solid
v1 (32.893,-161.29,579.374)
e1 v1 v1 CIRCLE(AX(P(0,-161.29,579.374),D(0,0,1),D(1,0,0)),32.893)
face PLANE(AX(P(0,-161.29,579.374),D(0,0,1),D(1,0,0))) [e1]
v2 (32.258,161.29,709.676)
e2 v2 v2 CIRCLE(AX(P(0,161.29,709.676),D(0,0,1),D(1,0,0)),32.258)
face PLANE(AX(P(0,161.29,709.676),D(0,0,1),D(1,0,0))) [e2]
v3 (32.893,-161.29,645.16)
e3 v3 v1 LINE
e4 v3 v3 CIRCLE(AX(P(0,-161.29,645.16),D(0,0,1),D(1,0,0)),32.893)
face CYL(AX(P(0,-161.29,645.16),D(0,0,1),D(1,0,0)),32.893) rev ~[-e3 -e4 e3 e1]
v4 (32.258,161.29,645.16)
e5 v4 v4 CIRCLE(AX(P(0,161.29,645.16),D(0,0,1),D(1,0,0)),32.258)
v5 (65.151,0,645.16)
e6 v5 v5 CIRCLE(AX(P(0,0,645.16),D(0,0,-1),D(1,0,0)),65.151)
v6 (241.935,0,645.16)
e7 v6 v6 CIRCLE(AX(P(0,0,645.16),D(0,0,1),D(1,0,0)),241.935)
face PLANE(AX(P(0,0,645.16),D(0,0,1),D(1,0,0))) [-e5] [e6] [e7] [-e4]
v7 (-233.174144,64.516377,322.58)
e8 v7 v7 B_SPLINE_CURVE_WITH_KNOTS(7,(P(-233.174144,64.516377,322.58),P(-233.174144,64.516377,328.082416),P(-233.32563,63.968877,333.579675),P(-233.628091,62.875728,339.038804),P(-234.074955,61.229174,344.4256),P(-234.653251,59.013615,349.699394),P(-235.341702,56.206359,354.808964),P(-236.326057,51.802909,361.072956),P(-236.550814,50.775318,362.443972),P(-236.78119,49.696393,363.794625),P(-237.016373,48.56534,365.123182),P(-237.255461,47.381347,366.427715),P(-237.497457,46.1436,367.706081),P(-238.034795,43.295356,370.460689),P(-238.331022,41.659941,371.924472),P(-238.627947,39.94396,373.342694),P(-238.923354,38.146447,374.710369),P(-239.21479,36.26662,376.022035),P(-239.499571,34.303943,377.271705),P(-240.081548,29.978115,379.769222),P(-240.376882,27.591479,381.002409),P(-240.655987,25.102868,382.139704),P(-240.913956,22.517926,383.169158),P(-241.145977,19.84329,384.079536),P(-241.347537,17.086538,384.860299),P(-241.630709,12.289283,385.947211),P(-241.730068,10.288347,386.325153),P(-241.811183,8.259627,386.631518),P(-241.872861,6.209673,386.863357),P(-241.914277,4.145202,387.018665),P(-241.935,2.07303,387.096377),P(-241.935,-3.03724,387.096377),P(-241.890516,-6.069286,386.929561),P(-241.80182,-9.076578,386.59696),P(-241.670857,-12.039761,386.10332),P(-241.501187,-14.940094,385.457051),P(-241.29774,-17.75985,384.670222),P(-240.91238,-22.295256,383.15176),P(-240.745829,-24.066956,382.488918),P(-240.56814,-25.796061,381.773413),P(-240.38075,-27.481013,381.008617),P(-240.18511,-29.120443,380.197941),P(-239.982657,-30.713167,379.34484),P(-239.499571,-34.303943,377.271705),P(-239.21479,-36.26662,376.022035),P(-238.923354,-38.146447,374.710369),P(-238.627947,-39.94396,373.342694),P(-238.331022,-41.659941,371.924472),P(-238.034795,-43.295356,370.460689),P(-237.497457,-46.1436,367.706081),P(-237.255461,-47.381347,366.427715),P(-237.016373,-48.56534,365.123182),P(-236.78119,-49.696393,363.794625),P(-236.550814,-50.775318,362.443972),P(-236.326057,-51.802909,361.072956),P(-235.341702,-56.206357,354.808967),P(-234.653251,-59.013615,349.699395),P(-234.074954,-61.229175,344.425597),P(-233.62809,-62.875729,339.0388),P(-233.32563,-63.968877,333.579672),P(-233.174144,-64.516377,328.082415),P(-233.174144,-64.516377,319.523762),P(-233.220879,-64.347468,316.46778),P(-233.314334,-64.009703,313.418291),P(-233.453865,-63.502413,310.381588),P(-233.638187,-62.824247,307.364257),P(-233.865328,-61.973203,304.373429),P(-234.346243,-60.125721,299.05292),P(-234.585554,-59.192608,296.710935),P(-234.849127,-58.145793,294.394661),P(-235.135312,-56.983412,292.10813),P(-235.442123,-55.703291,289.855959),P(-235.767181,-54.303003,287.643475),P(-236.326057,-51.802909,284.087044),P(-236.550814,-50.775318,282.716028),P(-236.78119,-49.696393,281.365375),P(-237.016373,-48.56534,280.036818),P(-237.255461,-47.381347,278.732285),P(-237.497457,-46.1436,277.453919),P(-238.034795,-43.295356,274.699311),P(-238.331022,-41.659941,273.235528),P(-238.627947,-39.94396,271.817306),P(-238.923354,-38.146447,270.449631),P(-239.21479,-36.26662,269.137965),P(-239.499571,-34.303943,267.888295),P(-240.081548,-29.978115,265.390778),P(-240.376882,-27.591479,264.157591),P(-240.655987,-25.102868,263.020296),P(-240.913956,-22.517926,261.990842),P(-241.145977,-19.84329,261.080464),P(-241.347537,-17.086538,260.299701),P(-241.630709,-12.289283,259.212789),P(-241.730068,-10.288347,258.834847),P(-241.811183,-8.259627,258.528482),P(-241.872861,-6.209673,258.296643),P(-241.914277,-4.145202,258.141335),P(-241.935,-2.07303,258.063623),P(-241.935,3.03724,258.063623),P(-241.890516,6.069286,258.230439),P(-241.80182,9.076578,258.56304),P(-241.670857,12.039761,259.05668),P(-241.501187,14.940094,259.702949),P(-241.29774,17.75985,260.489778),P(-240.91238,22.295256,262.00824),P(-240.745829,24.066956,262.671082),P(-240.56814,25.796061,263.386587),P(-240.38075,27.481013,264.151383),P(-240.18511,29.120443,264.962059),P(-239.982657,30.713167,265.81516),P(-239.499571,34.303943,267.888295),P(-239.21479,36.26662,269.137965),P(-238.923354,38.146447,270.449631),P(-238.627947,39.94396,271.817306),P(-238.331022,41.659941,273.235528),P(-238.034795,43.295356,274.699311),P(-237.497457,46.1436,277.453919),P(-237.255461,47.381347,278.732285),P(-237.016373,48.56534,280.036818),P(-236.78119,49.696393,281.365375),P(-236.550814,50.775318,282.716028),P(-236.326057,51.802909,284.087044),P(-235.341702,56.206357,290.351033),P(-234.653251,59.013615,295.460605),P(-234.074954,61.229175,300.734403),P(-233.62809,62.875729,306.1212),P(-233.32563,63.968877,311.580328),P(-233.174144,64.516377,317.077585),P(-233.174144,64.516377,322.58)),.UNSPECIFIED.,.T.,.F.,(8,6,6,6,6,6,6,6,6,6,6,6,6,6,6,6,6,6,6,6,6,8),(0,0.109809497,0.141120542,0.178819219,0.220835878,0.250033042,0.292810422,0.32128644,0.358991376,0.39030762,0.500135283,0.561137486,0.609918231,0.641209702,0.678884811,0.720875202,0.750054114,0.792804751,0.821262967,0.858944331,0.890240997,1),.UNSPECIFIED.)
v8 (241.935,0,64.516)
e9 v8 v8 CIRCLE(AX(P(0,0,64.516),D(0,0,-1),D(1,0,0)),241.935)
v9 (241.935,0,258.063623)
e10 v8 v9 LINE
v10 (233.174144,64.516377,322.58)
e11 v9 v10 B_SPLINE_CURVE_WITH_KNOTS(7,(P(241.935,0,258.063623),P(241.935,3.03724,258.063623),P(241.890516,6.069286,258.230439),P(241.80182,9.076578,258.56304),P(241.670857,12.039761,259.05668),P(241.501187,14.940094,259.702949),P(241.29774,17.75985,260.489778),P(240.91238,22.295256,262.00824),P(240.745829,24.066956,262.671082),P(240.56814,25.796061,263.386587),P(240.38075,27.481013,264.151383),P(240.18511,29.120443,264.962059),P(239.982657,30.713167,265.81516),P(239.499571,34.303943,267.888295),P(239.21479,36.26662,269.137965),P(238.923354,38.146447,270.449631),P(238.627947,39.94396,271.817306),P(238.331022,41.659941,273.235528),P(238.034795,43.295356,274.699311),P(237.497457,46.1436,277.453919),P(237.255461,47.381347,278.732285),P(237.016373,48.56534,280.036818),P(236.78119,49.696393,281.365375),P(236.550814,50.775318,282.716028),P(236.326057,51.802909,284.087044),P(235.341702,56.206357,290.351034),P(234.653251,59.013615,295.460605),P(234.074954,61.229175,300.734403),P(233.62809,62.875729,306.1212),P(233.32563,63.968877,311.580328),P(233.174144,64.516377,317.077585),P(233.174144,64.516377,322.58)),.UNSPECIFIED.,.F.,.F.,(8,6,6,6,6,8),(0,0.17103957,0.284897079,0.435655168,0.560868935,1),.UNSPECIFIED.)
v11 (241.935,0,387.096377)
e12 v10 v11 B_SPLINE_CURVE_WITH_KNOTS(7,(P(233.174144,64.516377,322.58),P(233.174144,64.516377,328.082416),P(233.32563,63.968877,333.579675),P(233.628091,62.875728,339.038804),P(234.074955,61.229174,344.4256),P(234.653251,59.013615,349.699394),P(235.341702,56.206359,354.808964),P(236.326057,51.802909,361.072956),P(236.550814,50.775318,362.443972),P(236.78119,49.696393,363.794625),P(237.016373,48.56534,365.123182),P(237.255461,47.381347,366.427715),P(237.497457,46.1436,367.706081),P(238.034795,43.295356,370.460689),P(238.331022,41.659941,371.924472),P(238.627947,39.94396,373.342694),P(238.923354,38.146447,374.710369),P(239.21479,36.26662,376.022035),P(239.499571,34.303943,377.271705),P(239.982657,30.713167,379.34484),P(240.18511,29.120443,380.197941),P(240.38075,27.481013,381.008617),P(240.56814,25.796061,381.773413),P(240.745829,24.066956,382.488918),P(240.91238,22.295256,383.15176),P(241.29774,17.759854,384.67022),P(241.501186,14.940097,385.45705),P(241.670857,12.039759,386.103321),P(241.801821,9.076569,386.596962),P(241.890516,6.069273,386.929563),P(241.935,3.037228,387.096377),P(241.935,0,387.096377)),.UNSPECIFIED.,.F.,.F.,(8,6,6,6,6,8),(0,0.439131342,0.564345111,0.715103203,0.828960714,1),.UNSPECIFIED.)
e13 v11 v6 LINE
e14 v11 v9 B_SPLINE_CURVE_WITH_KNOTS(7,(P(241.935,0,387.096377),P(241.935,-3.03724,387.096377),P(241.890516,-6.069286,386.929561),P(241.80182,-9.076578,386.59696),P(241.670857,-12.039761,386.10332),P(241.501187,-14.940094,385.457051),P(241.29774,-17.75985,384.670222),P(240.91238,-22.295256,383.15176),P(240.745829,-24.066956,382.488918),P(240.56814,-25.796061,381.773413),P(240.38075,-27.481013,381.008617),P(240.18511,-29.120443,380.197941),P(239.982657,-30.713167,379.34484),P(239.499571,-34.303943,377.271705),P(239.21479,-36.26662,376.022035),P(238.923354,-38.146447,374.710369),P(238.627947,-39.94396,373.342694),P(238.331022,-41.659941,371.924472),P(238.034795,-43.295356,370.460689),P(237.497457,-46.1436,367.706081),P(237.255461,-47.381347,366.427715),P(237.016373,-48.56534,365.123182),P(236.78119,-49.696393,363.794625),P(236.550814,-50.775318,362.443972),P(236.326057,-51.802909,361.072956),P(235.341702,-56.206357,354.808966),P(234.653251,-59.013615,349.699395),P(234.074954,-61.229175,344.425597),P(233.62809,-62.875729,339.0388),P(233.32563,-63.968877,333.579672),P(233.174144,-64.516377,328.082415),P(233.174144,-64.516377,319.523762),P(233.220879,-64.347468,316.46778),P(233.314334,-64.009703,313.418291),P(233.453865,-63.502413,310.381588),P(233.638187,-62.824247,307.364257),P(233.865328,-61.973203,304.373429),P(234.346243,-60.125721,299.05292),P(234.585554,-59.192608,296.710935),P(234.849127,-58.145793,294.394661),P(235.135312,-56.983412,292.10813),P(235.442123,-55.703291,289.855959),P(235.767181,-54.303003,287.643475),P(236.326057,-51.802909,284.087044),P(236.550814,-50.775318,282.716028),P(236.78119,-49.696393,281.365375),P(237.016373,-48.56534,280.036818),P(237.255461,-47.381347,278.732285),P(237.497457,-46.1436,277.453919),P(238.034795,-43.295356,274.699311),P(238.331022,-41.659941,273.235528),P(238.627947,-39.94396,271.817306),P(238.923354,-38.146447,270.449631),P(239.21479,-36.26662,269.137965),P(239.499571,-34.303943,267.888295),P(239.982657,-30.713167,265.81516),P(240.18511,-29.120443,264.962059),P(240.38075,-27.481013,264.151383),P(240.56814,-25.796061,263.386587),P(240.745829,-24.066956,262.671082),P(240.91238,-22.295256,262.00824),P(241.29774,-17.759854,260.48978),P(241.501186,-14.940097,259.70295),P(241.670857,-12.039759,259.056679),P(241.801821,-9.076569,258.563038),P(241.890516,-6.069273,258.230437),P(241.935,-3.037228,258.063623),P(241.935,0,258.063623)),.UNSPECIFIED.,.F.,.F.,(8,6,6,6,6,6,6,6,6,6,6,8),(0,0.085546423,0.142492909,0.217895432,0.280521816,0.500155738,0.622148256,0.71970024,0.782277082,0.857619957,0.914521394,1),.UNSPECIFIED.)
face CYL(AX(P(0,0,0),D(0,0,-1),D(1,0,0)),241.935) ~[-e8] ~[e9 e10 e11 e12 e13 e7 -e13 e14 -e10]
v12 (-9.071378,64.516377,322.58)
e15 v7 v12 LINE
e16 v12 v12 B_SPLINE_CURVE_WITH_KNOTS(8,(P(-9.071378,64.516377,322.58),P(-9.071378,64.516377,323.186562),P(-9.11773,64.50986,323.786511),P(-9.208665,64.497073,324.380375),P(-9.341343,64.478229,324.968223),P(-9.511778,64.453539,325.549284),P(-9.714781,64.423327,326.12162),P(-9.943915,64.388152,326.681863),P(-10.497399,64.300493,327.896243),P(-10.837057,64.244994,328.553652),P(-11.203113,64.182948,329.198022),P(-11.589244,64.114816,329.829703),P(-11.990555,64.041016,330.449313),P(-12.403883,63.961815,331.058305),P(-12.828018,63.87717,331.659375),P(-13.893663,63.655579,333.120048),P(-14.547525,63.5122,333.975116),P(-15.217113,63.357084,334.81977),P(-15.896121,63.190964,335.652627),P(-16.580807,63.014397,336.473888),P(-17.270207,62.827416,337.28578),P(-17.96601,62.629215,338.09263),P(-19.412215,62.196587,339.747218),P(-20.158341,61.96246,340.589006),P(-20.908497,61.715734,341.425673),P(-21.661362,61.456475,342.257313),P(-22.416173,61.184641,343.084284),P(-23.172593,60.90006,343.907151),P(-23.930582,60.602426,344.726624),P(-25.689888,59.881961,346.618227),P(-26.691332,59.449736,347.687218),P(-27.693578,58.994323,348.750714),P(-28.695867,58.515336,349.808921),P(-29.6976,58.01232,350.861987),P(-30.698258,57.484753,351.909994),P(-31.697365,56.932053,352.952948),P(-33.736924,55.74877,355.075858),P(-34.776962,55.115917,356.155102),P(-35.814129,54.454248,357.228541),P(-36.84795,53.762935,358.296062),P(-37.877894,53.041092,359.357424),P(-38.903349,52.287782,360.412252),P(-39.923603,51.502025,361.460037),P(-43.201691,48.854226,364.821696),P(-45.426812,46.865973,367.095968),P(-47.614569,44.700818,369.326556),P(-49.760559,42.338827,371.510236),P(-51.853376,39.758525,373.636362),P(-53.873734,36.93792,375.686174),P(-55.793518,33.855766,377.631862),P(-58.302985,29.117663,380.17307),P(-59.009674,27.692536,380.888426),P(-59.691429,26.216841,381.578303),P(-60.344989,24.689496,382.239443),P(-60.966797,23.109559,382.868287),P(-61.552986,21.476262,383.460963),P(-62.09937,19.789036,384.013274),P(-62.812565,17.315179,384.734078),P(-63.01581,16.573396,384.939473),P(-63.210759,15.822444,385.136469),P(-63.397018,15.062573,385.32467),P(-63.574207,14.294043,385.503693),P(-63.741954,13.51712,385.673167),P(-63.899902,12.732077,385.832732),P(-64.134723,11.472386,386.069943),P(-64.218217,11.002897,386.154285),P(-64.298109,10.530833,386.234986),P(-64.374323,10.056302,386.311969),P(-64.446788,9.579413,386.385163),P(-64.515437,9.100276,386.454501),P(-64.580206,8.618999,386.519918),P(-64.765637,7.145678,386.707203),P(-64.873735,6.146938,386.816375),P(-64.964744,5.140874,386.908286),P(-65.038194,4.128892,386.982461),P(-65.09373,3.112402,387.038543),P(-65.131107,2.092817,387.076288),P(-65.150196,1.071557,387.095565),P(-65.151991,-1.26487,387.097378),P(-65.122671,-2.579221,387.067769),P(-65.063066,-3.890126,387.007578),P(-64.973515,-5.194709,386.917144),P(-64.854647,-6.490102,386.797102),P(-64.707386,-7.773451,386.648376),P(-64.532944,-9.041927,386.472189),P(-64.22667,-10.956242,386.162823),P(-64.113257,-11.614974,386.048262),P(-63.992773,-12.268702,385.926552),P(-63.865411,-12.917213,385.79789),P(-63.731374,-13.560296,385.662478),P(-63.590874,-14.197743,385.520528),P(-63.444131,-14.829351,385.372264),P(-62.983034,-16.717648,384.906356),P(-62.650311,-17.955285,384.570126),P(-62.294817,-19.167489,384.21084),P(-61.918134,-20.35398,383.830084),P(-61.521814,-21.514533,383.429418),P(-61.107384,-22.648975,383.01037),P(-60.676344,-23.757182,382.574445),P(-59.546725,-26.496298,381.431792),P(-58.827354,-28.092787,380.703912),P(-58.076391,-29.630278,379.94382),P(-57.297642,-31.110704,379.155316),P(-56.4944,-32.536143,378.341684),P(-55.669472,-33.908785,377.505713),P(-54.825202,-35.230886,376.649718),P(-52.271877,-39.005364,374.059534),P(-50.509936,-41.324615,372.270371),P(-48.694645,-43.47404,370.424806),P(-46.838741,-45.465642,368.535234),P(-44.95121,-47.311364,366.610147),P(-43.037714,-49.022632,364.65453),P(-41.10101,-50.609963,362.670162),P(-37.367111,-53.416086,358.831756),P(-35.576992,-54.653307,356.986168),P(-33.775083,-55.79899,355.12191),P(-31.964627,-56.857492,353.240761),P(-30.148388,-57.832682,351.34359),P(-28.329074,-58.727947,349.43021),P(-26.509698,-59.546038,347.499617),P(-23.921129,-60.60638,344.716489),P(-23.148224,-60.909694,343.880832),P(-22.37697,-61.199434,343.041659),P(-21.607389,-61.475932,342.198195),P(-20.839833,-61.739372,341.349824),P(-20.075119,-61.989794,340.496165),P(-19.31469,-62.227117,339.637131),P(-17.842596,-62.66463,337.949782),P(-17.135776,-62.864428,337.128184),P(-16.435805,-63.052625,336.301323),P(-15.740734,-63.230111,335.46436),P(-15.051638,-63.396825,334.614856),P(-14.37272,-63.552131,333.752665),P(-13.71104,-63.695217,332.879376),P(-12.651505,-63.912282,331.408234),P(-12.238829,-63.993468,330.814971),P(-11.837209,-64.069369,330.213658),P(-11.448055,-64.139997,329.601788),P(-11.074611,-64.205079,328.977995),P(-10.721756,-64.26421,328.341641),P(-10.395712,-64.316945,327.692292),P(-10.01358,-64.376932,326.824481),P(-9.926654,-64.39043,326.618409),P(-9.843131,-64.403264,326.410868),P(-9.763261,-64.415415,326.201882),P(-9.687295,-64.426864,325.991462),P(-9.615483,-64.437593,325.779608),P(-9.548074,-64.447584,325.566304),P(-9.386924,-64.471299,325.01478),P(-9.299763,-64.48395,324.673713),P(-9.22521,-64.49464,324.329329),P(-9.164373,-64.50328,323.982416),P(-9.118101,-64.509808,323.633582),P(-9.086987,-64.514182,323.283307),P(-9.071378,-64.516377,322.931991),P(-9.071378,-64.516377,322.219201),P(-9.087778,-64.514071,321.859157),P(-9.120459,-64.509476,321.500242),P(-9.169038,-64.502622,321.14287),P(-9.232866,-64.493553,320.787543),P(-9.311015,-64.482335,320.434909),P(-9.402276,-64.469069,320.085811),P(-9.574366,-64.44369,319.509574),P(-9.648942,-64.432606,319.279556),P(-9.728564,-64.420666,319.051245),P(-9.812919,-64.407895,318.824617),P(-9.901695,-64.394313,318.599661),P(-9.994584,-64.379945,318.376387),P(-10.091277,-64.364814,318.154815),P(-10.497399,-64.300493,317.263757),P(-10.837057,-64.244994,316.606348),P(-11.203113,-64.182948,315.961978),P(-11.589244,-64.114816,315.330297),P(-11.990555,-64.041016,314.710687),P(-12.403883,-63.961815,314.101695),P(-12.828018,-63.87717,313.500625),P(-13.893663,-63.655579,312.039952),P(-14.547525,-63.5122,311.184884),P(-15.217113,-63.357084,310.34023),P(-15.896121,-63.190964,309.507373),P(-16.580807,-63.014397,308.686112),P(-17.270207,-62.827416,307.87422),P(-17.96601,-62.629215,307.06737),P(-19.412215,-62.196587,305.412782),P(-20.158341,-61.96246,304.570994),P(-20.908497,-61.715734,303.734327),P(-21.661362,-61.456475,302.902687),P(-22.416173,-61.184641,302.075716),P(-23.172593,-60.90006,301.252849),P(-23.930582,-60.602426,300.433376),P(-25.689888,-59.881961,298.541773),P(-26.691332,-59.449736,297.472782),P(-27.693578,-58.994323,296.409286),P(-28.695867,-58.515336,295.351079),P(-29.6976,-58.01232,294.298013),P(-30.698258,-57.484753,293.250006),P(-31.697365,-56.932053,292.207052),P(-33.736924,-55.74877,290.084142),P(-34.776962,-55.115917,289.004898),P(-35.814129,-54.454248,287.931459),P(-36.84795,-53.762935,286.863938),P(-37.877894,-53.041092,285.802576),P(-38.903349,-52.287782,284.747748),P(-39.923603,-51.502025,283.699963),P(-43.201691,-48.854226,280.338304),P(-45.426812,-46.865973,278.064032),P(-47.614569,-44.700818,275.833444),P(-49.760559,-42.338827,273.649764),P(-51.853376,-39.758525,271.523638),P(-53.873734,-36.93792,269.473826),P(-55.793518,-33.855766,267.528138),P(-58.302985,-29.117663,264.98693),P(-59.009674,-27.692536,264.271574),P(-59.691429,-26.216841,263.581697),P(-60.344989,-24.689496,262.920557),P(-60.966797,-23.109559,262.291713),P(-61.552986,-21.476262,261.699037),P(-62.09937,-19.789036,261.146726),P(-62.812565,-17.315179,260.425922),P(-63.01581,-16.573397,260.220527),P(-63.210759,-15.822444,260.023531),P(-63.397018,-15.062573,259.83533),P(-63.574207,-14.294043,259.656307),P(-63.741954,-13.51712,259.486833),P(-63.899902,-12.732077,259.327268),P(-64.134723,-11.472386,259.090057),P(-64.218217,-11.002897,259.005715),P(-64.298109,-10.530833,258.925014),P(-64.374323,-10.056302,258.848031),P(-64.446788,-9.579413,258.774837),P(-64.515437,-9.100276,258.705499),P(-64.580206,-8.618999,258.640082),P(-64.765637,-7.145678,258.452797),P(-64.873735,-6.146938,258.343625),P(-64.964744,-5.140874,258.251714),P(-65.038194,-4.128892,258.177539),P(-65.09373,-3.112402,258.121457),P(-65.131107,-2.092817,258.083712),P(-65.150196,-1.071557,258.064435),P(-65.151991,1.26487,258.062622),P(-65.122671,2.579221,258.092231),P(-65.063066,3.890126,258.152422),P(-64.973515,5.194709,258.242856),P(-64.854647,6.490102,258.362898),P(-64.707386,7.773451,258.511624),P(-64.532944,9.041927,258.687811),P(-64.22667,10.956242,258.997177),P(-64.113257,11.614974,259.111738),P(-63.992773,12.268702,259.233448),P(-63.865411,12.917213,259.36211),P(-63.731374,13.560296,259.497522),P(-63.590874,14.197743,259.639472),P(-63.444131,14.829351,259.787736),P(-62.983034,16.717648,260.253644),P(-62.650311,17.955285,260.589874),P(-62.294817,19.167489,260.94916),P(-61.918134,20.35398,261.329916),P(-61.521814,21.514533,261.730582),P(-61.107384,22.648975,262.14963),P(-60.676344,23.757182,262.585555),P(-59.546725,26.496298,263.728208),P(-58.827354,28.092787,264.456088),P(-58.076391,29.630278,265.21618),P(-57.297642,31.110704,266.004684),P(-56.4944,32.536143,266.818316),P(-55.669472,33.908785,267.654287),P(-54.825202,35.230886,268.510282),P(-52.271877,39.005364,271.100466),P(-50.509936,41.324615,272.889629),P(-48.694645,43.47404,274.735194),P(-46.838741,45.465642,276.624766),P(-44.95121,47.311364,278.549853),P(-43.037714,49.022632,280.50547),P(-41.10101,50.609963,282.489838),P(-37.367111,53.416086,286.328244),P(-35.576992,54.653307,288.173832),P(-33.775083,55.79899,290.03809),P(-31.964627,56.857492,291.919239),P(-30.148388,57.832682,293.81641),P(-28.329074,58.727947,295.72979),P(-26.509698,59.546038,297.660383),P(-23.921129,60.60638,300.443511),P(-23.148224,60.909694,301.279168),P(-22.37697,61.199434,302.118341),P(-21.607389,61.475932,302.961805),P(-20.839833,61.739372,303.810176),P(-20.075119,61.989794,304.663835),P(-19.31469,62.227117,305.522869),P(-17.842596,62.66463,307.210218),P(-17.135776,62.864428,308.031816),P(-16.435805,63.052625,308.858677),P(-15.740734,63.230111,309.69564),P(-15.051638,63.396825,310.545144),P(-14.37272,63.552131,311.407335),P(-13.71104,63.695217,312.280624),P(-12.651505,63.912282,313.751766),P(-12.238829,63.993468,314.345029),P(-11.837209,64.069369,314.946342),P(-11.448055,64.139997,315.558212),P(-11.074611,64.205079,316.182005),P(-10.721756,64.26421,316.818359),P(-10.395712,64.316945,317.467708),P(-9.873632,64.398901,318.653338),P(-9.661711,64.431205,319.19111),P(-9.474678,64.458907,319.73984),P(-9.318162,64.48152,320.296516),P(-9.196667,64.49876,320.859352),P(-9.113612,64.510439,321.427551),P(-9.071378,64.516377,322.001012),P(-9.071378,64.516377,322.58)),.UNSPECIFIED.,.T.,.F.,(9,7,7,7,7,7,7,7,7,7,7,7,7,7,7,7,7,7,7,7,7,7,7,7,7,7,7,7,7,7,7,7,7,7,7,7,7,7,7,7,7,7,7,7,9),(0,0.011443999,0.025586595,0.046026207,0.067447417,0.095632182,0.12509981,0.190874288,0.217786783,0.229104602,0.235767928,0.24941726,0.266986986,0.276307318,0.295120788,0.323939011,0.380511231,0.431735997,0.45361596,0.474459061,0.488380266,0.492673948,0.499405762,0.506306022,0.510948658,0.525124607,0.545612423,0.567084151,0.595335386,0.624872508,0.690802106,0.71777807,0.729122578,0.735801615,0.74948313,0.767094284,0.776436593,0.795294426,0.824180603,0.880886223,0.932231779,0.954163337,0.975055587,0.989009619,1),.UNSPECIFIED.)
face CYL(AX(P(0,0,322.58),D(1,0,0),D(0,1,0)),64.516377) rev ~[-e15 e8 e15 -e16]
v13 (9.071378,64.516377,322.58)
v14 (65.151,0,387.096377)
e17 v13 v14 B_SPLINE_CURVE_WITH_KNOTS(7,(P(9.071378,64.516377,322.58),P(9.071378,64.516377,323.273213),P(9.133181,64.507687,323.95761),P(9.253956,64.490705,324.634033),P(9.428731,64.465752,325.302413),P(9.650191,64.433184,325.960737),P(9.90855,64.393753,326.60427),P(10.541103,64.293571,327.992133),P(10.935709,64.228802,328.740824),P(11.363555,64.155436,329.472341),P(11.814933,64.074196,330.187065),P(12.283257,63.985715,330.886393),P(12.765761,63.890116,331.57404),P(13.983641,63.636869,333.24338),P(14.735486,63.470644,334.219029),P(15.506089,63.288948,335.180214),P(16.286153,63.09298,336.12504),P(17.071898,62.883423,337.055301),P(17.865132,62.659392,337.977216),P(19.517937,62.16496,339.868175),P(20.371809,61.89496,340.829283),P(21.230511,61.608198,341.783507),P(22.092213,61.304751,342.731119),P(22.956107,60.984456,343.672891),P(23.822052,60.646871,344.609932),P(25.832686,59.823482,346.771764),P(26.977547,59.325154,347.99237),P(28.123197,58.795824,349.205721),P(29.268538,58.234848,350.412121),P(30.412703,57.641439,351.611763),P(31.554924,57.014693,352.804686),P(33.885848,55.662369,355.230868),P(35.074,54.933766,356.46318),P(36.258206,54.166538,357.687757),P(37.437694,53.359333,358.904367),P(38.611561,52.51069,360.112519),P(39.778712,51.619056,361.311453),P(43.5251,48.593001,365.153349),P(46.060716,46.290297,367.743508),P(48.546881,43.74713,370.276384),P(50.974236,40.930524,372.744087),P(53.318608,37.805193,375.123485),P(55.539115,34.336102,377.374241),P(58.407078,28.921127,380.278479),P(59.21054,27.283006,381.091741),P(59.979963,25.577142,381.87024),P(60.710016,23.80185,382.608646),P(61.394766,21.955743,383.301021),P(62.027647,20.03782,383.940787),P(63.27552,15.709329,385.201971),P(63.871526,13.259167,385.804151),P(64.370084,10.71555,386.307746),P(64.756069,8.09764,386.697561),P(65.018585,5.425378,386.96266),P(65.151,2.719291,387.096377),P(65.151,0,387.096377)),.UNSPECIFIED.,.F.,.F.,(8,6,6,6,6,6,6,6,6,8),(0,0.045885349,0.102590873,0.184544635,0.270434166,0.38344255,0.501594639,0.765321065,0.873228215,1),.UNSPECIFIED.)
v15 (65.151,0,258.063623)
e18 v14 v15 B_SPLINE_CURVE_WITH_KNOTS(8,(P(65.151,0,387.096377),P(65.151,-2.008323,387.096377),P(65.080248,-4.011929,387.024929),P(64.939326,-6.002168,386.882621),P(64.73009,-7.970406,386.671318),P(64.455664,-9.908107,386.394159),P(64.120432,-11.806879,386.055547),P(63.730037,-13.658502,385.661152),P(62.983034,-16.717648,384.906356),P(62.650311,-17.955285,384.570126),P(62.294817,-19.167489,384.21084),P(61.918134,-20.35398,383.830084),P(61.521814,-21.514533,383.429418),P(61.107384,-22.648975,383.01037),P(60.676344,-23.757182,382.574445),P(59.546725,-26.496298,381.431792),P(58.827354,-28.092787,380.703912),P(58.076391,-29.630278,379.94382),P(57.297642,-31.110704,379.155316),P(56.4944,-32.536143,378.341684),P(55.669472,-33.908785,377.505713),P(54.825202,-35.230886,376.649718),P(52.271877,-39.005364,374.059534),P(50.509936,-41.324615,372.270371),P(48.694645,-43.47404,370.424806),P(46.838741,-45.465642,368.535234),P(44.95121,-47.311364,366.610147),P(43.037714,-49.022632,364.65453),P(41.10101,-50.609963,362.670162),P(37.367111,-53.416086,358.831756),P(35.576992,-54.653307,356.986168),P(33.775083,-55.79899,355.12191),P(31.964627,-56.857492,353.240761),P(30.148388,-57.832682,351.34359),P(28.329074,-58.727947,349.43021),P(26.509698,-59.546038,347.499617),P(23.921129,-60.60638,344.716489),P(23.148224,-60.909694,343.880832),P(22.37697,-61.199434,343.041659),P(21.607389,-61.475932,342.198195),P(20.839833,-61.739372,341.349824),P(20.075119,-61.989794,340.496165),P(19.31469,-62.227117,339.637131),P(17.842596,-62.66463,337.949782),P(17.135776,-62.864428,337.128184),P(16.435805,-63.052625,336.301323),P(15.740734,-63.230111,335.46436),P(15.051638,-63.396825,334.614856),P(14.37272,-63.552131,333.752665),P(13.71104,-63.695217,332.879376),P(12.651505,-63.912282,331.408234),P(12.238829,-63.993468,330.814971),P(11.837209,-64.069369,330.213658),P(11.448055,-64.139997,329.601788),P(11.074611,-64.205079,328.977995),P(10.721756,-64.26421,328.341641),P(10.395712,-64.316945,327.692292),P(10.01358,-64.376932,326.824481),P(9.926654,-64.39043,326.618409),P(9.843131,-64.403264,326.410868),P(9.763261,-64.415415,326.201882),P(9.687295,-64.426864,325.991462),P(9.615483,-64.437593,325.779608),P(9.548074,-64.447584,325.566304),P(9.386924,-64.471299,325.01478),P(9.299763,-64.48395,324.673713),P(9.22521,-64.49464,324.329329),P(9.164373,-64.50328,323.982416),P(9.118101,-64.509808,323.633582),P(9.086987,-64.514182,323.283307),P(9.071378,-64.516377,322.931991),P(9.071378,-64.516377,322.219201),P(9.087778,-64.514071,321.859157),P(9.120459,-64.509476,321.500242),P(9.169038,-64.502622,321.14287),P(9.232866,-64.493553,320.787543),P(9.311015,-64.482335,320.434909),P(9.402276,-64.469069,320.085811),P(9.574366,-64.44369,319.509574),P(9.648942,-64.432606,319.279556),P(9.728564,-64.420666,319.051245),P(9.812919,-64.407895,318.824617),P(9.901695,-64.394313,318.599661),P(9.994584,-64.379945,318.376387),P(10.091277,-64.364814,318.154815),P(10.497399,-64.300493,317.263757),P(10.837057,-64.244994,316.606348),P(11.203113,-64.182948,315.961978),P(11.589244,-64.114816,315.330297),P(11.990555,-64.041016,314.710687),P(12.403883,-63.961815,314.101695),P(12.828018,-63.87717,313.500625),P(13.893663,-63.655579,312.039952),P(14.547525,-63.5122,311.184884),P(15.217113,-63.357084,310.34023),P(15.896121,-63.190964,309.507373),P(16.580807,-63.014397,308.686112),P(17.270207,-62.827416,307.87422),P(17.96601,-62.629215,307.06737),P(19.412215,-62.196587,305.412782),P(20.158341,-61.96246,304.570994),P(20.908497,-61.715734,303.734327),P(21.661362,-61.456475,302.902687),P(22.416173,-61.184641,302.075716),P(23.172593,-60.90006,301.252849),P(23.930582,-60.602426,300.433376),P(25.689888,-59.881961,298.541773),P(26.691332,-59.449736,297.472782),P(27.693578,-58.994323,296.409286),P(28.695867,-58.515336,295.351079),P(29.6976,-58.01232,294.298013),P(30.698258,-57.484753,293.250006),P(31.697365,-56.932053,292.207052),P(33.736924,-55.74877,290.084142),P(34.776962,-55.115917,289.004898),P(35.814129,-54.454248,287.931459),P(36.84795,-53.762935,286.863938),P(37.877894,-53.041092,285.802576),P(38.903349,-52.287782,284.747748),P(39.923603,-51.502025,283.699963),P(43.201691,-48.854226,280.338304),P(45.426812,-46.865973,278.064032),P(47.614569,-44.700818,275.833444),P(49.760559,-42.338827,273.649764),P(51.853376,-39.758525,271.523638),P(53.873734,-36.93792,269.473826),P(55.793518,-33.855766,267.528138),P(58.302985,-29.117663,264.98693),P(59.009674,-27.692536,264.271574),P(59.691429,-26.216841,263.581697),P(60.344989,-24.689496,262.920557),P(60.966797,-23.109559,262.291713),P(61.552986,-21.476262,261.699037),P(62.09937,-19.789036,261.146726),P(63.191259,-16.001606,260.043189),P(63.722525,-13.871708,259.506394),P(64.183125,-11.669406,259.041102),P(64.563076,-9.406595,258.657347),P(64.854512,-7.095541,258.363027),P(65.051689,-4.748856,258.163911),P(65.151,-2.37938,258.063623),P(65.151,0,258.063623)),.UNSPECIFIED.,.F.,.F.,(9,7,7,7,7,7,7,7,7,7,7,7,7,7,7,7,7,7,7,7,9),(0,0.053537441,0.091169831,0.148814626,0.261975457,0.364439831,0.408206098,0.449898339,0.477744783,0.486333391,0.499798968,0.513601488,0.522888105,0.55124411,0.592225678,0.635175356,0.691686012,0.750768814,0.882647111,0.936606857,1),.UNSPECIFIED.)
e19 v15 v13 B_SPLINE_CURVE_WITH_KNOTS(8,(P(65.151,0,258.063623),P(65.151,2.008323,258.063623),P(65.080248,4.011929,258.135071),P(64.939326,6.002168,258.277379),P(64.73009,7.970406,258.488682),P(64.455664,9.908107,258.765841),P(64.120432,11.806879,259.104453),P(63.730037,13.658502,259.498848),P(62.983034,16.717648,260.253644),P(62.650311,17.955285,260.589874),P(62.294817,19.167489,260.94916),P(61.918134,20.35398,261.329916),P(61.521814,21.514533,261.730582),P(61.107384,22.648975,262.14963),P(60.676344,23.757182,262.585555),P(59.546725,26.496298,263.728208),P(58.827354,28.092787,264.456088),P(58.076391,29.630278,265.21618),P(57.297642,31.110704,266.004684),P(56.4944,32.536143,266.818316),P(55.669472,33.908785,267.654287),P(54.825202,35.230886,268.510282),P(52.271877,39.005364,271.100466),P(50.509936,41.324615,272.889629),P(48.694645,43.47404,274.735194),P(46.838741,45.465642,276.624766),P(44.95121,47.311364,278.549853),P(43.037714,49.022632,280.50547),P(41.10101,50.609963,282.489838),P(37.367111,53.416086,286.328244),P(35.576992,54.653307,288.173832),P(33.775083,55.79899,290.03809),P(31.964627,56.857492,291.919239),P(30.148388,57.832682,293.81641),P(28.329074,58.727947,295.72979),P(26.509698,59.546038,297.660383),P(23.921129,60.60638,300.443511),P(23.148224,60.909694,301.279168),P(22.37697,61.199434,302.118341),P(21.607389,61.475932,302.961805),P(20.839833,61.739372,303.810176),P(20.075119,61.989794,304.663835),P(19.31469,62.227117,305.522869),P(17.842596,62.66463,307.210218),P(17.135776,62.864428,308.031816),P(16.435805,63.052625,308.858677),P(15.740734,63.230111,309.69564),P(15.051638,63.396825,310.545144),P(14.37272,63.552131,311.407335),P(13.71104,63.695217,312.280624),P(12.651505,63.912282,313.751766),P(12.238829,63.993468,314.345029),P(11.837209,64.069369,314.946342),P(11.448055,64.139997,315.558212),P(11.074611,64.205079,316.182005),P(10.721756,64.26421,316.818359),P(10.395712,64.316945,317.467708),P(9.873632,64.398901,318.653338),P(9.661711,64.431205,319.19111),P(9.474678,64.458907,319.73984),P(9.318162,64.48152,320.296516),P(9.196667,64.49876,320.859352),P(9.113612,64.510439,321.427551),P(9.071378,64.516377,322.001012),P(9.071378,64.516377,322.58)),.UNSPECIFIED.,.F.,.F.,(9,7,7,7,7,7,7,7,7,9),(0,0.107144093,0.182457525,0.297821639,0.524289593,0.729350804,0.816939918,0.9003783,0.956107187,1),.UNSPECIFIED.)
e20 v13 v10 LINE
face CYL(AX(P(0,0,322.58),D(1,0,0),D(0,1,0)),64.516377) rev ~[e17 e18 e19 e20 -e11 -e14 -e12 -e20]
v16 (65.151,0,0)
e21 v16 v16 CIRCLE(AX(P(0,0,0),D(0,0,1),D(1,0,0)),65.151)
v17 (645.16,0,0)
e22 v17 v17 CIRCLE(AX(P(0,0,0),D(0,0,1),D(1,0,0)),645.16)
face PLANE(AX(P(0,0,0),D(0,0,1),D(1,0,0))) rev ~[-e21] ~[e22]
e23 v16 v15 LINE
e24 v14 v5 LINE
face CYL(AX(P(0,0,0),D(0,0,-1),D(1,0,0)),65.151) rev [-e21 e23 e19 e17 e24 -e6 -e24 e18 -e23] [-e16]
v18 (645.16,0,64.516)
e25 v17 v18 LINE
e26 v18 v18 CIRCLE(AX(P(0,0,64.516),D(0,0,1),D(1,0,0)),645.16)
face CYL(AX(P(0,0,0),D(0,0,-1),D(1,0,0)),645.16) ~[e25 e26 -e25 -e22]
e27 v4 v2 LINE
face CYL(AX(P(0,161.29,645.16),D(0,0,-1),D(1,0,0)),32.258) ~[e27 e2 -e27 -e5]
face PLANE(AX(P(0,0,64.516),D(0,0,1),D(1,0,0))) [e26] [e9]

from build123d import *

# Parameters (mm, degrees)
F1_R      = 645.16
F3_DEPTH  = 64.516
F2_R      = 241.935
F4_DEPTH  = 645.16
F0_R      = 65.151
F5_DEPTH  = 645.161
F6_R      = 64.516377
F7_DEPTH  = 127000
F8_R      = 32.258
F10_DEPTH = 64.516
F9_R      = 32.893
F11_DEPTH = 65.786


with BuildPart() as f3:
    # F1 (on Top) → F3 (new body)
    with BuildSketch(Plane.XY):
        Circle(F1_R)
    extrude(amount=F3_DEPTH)

    # F2 (on Top) → F4 (join)
    with BuildSketch(Plane.XY):
        Circle(F2_R)
    extrude(amount=F4_DEPTH)

    # F0 (on Top) → F5 (cut, through all)
    with BuildSketch(Plane.XY):
        Circle(F0_R)
    extrude(amount=F5_DEPTH, mode=Mode.SUBTRACT)

    # F6 (on Right) → F7 (cut, symmetric)
    with BuildSketch(Plane.YZ):
        with Locations((0, 322.58)):
            Circle(F6_R)
    extrude(amount=F7_DEPTH, both=True, mode=Mode.SUBTRACT)

    # F8 (on face) → F10 (join)
    with BuildSketch(Plane.XY.offset(645.16)):
        with Locations((0, 161.29)):
            Circle(F8_R)
    extrude(amount=F10_DEPTH)

    # F9 (on face) → F11 (cut)
    with BuildSketch(Plane.XY.offset(645.16)):
        with Locations((0, -161.29)):
            Circle(F9_R)
    extrude(amount=-F11_DEPTH, mode=Mode.SUBTRACT)


with BuildPart() as f12_1:
    # F12: copy of F3
    add(f3.part.moved(Location((1879.6, 0, 0))))


solid = f3.part
